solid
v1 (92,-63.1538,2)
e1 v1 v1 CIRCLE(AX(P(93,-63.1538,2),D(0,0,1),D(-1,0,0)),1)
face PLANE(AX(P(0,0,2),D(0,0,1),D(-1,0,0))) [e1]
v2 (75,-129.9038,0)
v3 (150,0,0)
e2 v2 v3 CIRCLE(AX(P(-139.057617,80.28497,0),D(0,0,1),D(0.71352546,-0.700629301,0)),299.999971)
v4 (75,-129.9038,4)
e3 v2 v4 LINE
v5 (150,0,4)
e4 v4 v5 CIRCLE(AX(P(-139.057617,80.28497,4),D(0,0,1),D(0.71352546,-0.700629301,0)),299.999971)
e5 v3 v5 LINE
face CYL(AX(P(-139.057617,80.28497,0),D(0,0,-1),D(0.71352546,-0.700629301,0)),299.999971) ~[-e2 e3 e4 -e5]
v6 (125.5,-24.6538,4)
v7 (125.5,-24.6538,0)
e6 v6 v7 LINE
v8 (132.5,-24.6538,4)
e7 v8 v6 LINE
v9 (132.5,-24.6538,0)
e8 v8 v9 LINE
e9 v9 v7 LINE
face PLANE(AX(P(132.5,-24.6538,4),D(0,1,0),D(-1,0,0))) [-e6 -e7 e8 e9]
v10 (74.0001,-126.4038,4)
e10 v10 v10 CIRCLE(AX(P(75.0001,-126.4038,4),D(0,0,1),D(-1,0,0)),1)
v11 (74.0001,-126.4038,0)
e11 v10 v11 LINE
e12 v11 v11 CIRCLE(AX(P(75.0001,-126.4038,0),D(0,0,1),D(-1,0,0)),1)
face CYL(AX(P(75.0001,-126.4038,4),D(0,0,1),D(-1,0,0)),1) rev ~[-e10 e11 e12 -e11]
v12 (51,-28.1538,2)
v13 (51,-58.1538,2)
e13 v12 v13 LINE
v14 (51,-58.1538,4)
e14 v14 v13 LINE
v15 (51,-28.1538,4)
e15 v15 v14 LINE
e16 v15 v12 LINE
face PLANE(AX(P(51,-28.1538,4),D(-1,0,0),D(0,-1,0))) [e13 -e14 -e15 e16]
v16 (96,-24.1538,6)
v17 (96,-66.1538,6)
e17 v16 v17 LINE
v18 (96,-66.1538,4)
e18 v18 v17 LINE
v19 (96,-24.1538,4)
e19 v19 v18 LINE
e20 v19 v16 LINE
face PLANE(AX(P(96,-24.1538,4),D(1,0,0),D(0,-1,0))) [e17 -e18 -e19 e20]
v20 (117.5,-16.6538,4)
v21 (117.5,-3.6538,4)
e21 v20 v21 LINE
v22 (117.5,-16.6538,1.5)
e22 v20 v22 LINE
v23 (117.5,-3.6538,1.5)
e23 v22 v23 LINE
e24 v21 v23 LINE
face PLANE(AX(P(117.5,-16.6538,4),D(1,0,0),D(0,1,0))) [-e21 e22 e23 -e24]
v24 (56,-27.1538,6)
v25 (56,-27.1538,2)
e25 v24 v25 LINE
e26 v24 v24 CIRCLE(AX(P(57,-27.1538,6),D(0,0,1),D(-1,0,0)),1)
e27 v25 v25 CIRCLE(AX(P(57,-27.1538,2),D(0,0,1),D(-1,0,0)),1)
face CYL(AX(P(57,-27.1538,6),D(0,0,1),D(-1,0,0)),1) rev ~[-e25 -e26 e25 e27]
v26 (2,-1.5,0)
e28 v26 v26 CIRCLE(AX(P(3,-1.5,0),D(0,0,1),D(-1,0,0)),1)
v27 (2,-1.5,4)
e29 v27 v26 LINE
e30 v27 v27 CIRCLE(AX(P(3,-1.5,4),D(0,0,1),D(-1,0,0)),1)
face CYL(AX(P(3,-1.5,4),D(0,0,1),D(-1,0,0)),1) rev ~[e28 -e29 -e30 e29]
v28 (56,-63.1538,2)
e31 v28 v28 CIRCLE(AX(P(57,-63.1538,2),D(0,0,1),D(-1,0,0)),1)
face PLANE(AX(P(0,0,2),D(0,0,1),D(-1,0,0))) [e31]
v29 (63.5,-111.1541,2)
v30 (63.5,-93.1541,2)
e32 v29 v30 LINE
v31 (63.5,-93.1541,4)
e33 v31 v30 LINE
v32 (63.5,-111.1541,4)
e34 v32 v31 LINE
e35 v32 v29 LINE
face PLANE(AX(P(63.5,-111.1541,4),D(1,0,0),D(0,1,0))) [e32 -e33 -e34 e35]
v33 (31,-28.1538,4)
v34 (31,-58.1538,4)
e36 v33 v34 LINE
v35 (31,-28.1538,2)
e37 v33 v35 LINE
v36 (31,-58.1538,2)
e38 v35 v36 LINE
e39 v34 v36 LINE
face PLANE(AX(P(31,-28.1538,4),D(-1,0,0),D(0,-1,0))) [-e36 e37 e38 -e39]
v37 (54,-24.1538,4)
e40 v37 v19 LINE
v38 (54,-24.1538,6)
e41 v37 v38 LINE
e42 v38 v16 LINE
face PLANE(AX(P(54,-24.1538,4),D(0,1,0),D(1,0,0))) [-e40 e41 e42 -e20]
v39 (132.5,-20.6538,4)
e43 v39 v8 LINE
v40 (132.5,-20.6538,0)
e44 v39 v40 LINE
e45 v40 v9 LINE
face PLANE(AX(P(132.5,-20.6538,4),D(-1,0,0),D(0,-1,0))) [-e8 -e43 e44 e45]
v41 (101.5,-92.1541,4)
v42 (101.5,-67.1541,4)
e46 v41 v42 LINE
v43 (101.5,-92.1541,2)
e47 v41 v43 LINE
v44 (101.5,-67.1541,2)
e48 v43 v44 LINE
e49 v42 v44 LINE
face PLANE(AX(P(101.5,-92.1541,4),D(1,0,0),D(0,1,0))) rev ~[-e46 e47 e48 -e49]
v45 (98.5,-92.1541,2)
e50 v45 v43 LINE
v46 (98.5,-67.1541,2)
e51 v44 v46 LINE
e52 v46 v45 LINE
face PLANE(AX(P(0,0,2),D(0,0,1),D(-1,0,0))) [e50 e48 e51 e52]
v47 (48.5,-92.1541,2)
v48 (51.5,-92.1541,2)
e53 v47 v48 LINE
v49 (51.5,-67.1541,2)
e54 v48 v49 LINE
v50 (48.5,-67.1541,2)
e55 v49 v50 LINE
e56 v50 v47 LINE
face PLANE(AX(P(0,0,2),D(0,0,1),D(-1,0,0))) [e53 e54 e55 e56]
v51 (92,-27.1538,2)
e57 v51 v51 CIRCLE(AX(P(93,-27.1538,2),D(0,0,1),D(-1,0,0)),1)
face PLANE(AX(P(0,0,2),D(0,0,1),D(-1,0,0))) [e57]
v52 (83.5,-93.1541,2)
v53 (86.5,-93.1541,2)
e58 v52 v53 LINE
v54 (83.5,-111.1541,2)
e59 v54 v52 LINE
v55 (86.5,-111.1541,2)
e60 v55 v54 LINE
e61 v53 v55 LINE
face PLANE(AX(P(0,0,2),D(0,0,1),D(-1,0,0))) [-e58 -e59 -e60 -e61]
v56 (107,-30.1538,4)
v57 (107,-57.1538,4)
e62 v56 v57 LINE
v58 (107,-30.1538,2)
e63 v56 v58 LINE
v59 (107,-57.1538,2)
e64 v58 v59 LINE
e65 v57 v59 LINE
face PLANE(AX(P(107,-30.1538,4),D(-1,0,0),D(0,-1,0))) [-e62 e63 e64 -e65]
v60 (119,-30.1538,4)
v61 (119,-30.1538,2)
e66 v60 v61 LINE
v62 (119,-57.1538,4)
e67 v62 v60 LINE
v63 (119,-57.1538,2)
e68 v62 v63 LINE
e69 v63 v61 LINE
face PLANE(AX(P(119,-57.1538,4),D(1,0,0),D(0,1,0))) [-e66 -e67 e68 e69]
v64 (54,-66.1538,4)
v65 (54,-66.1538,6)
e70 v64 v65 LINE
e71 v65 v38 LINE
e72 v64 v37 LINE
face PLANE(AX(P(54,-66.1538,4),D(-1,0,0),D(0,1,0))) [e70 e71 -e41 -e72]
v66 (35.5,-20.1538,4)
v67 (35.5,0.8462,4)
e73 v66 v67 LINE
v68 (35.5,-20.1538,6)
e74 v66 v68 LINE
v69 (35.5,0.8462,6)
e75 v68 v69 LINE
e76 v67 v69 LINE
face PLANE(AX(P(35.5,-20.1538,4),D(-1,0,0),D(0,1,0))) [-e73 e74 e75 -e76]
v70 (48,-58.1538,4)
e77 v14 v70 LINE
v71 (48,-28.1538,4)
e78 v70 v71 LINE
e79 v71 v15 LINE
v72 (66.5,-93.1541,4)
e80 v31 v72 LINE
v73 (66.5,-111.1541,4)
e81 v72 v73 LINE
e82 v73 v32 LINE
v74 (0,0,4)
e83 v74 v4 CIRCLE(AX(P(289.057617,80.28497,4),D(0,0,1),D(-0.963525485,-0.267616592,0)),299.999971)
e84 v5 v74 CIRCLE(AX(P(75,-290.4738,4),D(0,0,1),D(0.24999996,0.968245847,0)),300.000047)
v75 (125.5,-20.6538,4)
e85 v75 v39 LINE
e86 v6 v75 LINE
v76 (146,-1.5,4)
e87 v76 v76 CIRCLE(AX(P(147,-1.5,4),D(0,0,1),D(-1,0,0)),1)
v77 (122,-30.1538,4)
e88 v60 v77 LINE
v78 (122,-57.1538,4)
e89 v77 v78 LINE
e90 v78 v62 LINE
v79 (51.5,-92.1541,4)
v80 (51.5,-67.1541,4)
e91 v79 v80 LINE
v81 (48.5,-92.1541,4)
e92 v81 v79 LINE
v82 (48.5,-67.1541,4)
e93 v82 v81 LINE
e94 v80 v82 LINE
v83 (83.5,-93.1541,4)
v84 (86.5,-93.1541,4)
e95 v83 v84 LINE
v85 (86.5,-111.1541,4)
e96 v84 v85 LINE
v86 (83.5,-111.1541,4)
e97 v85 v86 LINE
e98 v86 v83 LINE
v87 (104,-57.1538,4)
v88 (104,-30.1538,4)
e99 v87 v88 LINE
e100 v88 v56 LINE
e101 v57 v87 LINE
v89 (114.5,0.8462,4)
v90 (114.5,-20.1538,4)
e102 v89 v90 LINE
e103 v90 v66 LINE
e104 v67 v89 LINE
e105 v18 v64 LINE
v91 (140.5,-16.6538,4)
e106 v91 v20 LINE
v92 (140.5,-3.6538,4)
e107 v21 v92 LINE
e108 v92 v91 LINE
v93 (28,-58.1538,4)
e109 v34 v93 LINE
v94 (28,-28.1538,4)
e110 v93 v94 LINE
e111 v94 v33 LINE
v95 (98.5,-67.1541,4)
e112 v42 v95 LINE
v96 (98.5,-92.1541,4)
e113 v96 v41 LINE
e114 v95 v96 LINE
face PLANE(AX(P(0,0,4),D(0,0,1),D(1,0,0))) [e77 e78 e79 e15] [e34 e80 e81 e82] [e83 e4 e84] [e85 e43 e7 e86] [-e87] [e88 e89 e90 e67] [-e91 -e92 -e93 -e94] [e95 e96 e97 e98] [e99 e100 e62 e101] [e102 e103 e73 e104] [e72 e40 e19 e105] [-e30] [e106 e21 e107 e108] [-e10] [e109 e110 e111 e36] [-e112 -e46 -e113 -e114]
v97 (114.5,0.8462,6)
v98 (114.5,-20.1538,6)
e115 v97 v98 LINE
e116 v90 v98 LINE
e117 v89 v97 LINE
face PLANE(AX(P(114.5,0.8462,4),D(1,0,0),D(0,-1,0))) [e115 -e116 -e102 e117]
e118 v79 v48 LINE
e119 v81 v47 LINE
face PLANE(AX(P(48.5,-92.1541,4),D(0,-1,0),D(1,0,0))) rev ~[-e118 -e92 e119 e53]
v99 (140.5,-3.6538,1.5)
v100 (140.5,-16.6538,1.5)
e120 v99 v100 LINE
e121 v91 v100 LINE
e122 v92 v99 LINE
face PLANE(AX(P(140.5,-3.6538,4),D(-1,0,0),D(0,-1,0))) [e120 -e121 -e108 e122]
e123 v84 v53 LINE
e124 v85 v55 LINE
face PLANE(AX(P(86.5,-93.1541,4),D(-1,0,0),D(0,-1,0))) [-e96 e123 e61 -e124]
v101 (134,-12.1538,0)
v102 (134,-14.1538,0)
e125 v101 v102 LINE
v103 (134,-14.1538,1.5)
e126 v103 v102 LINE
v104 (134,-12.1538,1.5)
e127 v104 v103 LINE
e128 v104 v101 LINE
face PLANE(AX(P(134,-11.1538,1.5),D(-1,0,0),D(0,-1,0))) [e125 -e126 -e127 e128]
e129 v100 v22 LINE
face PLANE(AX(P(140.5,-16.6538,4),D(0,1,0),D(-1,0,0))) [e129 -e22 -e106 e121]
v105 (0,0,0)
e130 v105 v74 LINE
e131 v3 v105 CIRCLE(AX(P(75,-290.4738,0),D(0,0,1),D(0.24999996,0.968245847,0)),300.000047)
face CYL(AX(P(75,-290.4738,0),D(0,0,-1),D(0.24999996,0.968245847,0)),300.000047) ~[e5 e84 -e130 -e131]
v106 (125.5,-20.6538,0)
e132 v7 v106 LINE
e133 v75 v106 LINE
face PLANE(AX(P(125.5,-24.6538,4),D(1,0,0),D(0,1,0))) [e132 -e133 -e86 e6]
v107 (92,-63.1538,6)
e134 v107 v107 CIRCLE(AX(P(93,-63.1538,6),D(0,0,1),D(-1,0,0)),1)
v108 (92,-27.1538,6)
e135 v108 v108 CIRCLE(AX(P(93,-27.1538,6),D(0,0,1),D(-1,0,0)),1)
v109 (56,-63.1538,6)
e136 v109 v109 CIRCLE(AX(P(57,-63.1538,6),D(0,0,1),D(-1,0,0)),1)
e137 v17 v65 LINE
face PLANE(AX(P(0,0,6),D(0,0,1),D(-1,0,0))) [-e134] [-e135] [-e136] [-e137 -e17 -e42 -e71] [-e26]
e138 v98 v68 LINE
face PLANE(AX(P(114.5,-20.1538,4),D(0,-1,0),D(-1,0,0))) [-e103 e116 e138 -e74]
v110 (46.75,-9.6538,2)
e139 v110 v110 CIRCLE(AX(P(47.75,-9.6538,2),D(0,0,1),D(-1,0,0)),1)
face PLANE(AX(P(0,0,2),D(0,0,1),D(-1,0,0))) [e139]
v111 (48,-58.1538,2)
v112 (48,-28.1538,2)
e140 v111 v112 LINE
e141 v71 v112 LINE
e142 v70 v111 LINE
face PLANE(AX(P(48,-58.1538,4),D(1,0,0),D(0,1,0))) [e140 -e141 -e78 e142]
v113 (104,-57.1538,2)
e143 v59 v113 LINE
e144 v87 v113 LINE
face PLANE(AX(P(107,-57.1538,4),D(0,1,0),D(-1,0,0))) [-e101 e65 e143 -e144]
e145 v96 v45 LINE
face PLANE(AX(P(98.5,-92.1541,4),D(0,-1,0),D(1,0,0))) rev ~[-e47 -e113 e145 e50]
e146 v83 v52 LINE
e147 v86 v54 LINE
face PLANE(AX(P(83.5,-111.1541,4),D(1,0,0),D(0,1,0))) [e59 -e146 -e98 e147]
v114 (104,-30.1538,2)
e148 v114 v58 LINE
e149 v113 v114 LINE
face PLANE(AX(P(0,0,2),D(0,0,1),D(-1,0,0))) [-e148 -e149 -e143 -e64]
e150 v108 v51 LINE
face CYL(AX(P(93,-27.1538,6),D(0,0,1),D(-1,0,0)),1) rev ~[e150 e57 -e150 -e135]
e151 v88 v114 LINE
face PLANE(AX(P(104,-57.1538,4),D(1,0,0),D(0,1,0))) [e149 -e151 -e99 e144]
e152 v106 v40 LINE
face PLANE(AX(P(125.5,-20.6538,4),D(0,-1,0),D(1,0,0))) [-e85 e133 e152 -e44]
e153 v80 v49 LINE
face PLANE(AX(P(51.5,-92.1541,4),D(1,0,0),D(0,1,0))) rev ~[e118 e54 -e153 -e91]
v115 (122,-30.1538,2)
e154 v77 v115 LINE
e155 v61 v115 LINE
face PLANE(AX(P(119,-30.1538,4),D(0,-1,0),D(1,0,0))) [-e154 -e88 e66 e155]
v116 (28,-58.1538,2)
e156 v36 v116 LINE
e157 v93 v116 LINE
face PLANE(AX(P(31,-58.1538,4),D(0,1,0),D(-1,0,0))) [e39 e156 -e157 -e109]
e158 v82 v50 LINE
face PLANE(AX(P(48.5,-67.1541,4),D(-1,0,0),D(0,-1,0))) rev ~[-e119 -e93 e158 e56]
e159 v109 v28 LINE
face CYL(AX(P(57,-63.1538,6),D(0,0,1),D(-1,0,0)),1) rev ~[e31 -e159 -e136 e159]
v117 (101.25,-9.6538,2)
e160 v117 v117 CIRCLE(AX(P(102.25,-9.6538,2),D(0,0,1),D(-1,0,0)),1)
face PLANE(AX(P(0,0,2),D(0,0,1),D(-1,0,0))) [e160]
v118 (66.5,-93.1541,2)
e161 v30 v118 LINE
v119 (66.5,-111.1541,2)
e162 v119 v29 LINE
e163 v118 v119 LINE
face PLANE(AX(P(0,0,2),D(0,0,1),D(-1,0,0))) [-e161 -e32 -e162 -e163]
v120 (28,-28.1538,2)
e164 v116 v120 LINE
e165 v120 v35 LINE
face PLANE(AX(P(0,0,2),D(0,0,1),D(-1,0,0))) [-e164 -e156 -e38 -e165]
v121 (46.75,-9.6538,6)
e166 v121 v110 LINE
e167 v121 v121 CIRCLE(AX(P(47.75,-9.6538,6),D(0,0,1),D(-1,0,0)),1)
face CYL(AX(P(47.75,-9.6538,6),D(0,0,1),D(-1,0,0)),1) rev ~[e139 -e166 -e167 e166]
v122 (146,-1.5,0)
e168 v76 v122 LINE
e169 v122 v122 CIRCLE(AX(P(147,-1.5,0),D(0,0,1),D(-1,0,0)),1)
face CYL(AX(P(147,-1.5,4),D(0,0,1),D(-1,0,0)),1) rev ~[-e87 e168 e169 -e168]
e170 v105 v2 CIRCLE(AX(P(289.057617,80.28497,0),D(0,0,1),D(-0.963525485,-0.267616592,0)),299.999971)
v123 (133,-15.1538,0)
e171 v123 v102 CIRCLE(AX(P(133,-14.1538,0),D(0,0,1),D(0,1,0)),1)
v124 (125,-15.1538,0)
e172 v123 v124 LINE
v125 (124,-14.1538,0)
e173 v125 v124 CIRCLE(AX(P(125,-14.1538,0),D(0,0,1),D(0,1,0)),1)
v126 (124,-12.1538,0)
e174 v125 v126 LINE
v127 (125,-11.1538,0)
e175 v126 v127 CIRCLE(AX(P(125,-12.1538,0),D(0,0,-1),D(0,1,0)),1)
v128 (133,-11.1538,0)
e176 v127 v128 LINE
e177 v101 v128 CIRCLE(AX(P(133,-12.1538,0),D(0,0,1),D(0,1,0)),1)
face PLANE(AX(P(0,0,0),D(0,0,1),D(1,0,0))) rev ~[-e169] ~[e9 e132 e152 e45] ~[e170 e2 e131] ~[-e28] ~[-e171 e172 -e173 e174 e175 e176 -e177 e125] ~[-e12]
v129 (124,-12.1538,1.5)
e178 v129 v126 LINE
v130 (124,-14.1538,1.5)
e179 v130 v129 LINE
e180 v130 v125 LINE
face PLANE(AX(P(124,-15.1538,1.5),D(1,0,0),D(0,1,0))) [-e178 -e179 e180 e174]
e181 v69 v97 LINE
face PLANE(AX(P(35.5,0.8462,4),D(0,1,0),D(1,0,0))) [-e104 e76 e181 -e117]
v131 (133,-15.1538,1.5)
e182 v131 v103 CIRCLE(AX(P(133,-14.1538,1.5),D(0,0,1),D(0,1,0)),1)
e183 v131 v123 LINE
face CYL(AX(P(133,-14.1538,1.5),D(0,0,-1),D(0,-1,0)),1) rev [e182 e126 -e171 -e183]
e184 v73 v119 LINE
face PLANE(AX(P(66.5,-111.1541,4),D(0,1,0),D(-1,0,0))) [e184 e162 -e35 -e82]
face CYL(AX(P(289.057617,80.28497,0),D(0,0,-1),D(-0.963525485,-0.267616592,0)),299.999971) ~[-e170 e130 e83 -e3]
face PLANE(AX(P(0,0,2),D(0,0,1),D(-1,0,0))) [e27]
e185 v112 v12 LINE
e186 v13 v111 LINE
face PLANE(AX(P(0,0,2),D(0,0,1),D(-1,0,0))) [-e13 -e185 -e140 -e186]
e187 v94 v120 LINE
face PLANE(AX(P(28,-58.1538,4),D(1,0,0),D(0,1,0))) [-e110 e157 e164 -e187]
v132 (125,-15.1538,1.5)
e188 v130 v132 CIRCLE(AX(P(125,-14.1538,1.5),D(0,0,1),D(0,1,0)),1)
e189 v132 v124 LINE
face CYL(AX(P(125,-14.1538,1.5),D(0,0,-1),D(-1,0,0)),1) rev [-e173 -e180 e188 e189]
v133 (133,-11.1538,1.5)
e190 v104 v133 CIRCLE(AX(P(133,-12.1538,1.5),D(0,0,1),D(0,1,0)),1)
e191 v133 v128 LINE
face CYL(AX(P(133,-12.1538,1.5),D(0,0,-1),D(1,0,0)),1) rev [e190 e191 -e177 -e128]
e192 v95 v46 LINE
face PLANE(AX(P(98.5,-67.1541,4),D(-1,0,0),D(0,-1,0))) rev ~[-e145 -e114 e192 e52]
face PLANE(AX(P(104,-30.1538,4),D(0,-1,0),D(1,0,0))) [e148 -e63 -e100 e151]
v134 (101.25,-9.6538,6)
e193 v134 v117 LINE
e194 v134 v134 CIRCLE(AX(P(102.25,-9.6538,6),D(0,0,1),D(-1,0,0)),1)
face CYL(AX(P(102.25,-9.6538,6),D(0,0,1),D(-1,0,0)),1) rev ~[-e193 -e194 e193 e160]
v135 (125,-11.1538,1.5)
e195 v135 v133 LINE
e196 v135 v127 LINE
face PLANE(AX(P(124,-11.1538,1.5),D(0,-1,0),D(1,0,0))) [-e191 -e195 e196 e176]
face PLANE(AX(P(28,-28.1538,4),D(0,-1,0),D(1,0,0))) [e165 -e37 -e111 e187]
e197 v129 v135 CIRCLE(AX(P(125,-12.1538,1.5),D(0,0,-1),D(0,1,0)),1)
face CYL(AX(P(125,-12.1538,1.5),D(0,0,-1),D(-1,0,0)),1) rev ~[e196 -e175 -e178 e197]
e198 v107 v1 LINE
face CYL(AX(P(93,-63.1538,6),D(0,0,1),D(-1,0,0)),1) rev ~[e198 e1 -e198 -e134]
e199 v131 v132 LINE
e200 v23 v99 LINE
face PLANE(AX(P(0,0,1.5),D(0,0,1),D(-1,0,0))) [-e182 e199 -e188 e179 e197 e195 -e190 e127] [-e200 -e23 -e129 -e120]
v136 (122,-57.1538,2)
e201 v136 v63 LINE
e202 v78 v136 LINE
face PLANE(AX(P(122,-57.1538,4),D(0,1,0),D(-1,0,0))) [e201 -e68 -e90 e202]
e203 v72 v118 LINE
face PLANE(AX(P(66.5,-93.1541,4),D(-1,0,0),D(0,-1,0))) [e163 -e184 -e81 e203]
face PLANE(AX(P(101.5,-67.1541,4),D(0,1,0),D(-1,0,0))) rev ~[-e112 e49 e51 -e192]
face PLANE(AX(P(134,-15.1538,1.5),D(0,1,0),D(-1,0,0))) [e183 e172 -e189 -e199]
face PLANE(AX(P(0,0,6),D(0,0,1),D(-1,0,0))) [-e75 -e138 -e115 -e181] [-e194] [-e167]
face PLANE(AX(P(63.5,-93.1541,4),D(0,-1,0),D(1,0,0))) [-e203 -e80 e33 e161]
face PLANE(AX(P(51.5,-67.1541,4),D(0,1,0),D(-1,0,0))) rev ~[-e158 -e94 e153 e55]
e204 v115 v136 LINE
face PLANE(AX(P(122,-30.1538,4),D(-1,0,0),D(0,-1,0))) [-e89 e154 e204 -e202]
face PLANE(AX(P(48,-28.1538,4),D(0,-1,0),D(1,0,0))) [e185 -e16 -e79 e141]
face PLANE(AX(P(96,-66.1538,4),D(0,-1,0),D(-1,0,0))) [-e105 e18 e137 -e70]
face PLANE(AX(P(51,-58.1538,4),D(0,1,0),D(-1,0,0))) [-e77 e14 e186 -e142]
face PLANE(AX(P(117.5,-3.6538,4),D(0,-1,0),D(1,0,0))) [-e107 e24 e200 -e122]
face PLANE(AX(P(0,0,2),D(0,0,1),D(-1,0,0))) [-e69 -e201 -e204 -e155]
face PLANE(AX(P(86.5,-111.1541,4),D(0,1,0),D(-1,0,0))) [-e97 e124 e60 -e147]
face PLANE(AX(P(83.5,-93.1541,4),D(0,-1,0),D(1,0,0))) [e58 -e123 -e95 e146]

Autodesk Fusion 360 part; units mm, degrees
sketch "Base" plane through (0, 0, 0) normal (0, 0, 1) x (1, 0, 0)
  line L0 (0, 0) -> (150, 0)
  line L1 (150, 0) -> (75, -129.9038)
  line L2 (75, -129.9038) -> (0, 0)
  arc A0 (150, 0) -> (0, 0) centre (75, -290.4738) ccw
  arc A1 (0, 0) -> (75, -129.9038) centre (289.0576, 80.285) ccw
  arc A2 (75, -129.9038) -> (150, 0) centre (-139.0576, 80.285) ccw
  dimension "d1" = 150
  dimension "d2" = 150
  dimension "d3" = 150
  dimension "d4" = 300
  dimension "d5" = 300
  dimension "d6" = 300
extrude "Extrude1" add sketch "Base" along normal blind 4
sketch "Pads" plane through (0, 0, 4) normal (0, 0, 1) x (-1, 0, 0)
  arc A0 (-75, 129.9038) -> (-150, 0) centre (139.0576, -80.285) ccw
  arc A1 (-150, 0) -> (0, 0) centre (-75, 290.4738) ccw
  arc A2 (0, 0) -> (-75, 129.9038) centre (-289.0576, -80.285) ccw
  line L0 (-54, 24.1538) -> (-96, 24.1538)
  line L1 (-96, 24.1538) -> (-96, 66.1538)
  line L2 (-96, 66.1538) -> (-54, 66.1538)
  line L3 (-54, 66.1538) -> (-54, 24.1538)
  line L4 (-114.5, 20.1538) -> (-35.5, 20.1538)
  line L5 (-35.5, 20.1538) -> (-35.5, -0.8462)
  line L6 (-35.5, -0.8462) -> (-114.5, -0.8462)
  line L7 (-114.5, -0.8462) -> (-114.5, 20.1538)
  dimension "d478" = 42
  dimension "d479" = 42
  dimension "d480" = 63.75
  dimension "d481" = 54
  dimension "d496" = 79
  dimension "d497" = 21
  dimension "d498" = 18.5
  dimension "d499" = 4
extrude "Extrude46" add sketch "Pads" along normal blind 2 contours L0 L1 L2 L3 | L4 L5 L6 L7
sketch "Clip holes" plane through (0, 0, 4) normal (0, 0, 1) x (-1, 0, 0)
  line L0 (-54, 24.1541) -> (-96, 24.1541)
  line L1 (-96, 24.1541) -> (-96, 66.1541)
  line L2 (-96, 66.1541) -> (-54, 66.1541)
  line L3 (-54, 66.1541) -> (-54, 24.1541)
  circle A0 centre (-3, 1.5) radius 0.75
  circle A1 centre (-147, 1.5) radius 0.75
  circle A2 centre (-75, 126.4038) radius 0.75
  arc A3 (-75, 129.9038) -> (-150, 0) centre (139.0576, -80.285) ccw
  arc A4 (-150, 0) -> (0, 0) centre (-75, 290.4738) ccw
  arc A5 (0, 0) -> (-75, 129.9038) centre (-289.0576, -80.285) ccw
  line L4 (-48.5, 92.1541) -> (-51.5, 92.1541)
  line L5 (-51.5, 92.1541) -> (-51.5, 67.1541)
  line L6 (-51.5, 67.1541) -> (-48.5, 67.1541)
  line L7 (-48.5, 67.1541) -> (-48.5, 92.1541)
  line L8 (-98.5, 92.1541) -> (-101.5, 92.1541)
  line L9 (-101.5, 92.1541) -> (-101.5, 67.1541)
  line L10 (-101.5, 67.1541) -> (-98.5, 67.1541)
  line L11 (-98.5, 67.1541) -> (-98.5, 92.1541)
  arc A6 (-75, 129.9038) -> (-150, 0) centre (139.0576, -80.285) ccw
  arc A7 (-150, 0) -> (0, 0) centre (-75, 290.4738) ccw
  arc A8 (0, 0) -> (-75, 129.9038) centre (-289.0576, -80.285) ccw
  line L12 (-66.5, 111.1541) -> (-63.5, 111.1541)
  line L13 (-63.5, 111.1541) -> (-63.5, 93.1541)
  line L14 (-63.5, 93.1541) -> (-66.5, 93.1541)
  line L15 (-66.5, 93.1541) -> (-66.5, 111.1541)
  line L16 (-83.5, 93.1541) -> (-86.5, 93.1541)
  line L17 (-86.5, 93.1541) -> (-86.5, 111.1541)
  line L18 (-86.5, 111.1541) -> (-83.5, 111.1541)
  line L19 (-83.5, 111.1541) -> (-83.5, 93.1541)
  line L20 (-28, 58.1538) -> (-28, 28.1538)
  line L21 (-28, 28.1538) -> (-31, 28.1538)
  line L22 (-31, 58.1538) -> (-28, 58.1538)
  line L23 (-31, 28.1538) -> (-31, 58.1538)
  line L24 (-54, 66.1538) -> (-54, 24.1538)
  line L25 (-54, 24.1538) -> (-96, 24.1538)
  line L26 (-96, 24.1538) -> (-96, 66.1538)
  line L27 (-96, 66.1538) -> (-54, 66.1538)
  line L28 (-114.5, -0.8462) -> (-114.5, 20.1538)
  line L29 (-114.5, 20.1538) -> (-35.5, 20.1538)
  line L30 (-35.5, 20.1538) -> (-35.5, -0.8462)
  line L31 (-35.5, -0.8462) -> (-114.5, -0.8462)
  line L32 (-104, 30.1538) -> (-107, 30.1538)
  line L33 (-107, 30.1538) -> (-107, 57.1538)
  line L34 (-107, 57.1538) -> (-104, 57.1538)
  line L35 (-104, 57.1538) -> (-104, 30.1538)
  line L36 (-119, 30.1538) -> (-122, 30.1538)
  line L37 (-122, 30.1538) -> (-122, 57.1538)
  line L38 (-122, 57.1538) -> (-119, 57.1538)
  line L39 (-119, 57.1538) -> (-119, 30.1538)
  line L40 (-48, 28.1538) -> (-51, 28.1538)
  line L41 (-51, 28.1538) -> (-51, 58.1538)
  line L42 (-51, 58.1538) -> (-48, 58.1538)
  line L43 (-48, 58.1538) -> (-48, 28.1538)
  line L44 (-96, 24.1538) -> (-54, 24.1538)
  dimension "d427" = 25
  dimension "d428" = 25
  dimension "d468" = 18
  dimension "d469" = 3
  dimension "d471" = 3
  dimension "d472" = 18
  dimension "d474" = 30
  dimension "d475" = 3
  dimension "d559" = 3
  dimension "d560" = 3
  dimension "d561" = 3
  dimension "d562" = 27
  dimension "d563" = 10
  dimension "d564" = 3
  dimension "d565" = 27
  dimension "d566" = 10
  dimension "d567" = 18
  dimension "d568" = 8
  dimension "d569" = 23
  dimension "d570" = 1
  dimension "d571" = 1
  dimension "d572" = 1
  dimension "d573" = 53
  dimension "d574" = 2.5
  dimension "d575" = 1
  dimension "d579" = 3
  dimension "d580" = 30
  dimension "d581" = 23
  dimension "d583" = 4
  dimension "d584" = 4
  dimension "d585" = 3
  dimension "d586" = 12
extrude "Extrude39" cut sketch "Clip holes" against normal blind 2 contours L4 L5 L6 L7 | L8 L9 L10 L11 | L12 L13 L14 L15 | L16 L17 L18 L19 | L20 L21 L22 L23 | L32 L33 L34 L35 | L36 L37 L38 L39 | L40 L41 L42 L43
sketch "Charger" plane through (0, 0, 4) normal (0, 0, 1) x (-1, 0, 0)
  arc A0 (-75, 129.9038) -> (-150, 0) centre (139.0576, -80.285) ccw
  arc A1 (-150, 0) -> (0, 0) centre (-75, 290.4738) ccw
  arc A2 (0, 0) -> (-75, 129.9038) centre (-289.0576, -80.285) ccw
  line L0 (-54, 24.1538) -> (-96, 24.1538)
  line L1 (-96, 24.1538) -> (-96, 66.1538)
  line L2 (-96, 66.1538) -> (-54, 66.1538)
  line L3 (-54, 66.1538) -> (-54, 24.1538)
  line L4 (-114.5, -0.8462) -> (-114.5, 20.1538)
  line L5 (-114.5, 20.1538) -> (-35.5, 20.1538)
  line L6 (-35.5, 20.1538) -> (-35.5, -0.8462)
  line L7 (-35.5, -0.8462) -> (-114.5, -0.8462)
  line L8 (-86.5, 93.1541) -> (-86.5, 111.1541)
  line L9 (-86.5, 111.1541) -> (-83.5, 111.1541)
  line L10 (-83.5, 111.1541) -> (-83.5, 93.1541)
  line L11 (-83.5, 93.1541) -> (-86.5, 93.1541)
  line L12 (-51.5, 92.1541) -> (-48.5, 92.1541)
  line L13 (-48.5, 92.1541) -> (-48.5, 67.1541)
  line L14 (-48.5, 67.1541) -> (-51.5, 67.1541)
  line L15 (-51.5, 67.1541) -> (-51.5, 92.1541)
  line L16 (-28, 58.1538) -> (-28, 28.1538)
  line L17 (-28, 28.1538) -> (-31, 28.1538)
  line L18 (-31, 28.1538) -> (-31, 58.1538)
  line L19 (-31, 58.1538) -> (-28, 58.1538)
  line L20 (-63.5, 111.1541) -> (-63.5, 93.1541)
  line L21 (-63.5, 93.1541) -> (-66.5, 93.1541)
  line L22 (-66.5, 93.1541) -> (-66.5, 111.1541)
  line L23 (-66.5, 111.1541) -> (-63.5, 111.1541)
  line L24 (-101.5, 92.1541) -> (-98.5, 92.1541)
  line L25 (-98.5, 92.1541) -> (-98.5, 67.1541)
  line L26 (-98.5, 67.1541) -> (-101.5, 67.1541)
  line L27 (-101.5, 67.1541) -> (-101.5, 92.1541)
  line L28 (-117.5, 3.6538) -> (-140.5, 3.6538)
  line L29 (-140.5, 3.6538) -> (-140.5, 16.6538)
  line L30 (-140.5, 16.6538) -> (-117.5, 16.6538)
  line L31 (-117.5, 16.6538) -> (-117.5, 3.6538)
  line L32 (-122, 30.1538) -> (-122, 57.1538)
  line L33 (-122, 57.1538) -> (-119, 57.1538)
  line L34 (-119, 57.1538) -> (-119, 30.1538)
  line L35 (-119, 30.1538) -> (-122, 30.1538)
  line L36 (-107, 30.1538) -> (-107, 57.1538)
  line L37 (-107, 57.1538) -> (-104, 57.1538)
  line L38 (-104, 57.1538) -> (-104, 30.1538)
  line L39 (-104, 30.1538) -> (-107, 30.1538)
  line L40 (-51, 28.1538) -> (-51, 58.1538)
  line L41 (-51, 58.1538) -> (-48, 58.1538)
  line L42 (-48, 58.1538) -> (-48, 28.1538)
  line L43 (-48, 28.1538) -> (-51, 28.1538)
  dimension "d539" = 23
  dimension "d540" = 13
  dimension "d541" = 3
  dimension "d542" = 4.5
extrude "Extrude56" cut sketch "Charger" against normal blind 2.5 contours L28 L29 L30 L31
sketch "Switch" plane through (0, 0, 4) normal (0, 0, 1) x (-1, 0, 0)
  line L0 (-101.5, 92.1541) -> (-98.5, 92.1541)
  line L1 (-98.5, 92.1541) -> (-98.5, 67.1541)
  line L2 (-98.5, 67.1541) -> (-101.5, 67.1541)
  line L3 (-101.5, 67.1541) -> (-101.5, 92.1541)
  line L4 (-63.5, 111.1541) -> (-63.5, 93.1541)
  line L5 (-63.5, 93.1541) -> (-66.5, 93.1541)
  line L6 (-66.5, 93.1541) -> (-66.5, 111.1541)
  line L7 (-66.5, 111.1541) -> (-63.5, 111.1541)
  line L8 (-28, 58.1538) -> (-28, 28.1538)
  line L9 (-28, 28.1538) -> (-31, 28.1538)
  line L10 (-31, 28.1538) -> (-31, 58.1538)
  line L11 (-31, 58.1538) -> (-28, 58.1538)
  line L12 (-51.5, 92.1541) -> (-48.5, 92.1541)
  line L13 (-48.5, 92.1541) -> (-48.5, 67.1541)
  line L14 (-48.5, 67.1541) -> (-51.5, 67.1541)
  line L15 (-51.5, 67.1541) -> (-51.5, 92.1541)
  line L16 (-86.5, 93.1541) -> (-86.5, 111.1541)
  line L17 (-86.5, 111.1541) -> (-83.5, 111.1541)
  line L18 (-83.5, 111.1541) -> (-83.5, 93.1541)
  line L19 (-83.5, 93.1541) -> (-86.5, 93.1541)
  line L20 (-114.5, -0.8462) -> (-114.5, 20.1538)
  line L21 (-114.5, 20.1538) -> (-35.5, 20.1538)
  line L22 (-35.5, 20.1538) -> (-35.5, -0.8462)
  line L23 (-35.5, -0.8462) -> (-114.5, -0.8462)
  line L24 (-54, 24.1538) -> (-96, 24.1538)
  line L25 (-96, 24.1538) -> (-96, 66.1538)
  line L26 (-96, 66.1538) -> (-54, 66.1538)
  line L27 (-54, 66.1538) -> (-54, 24.1538)
  arc A0 (-75, 129.9038) -> (-150, 0) centre (139.0576, -80.285) ccw
  arc A1 (-150, 0) -> (0, 0) centre (-75, 290.4738) ccw
  arc A2 (0, 0) -> (-75, 129.9038) centre (-289.0576, -80.285) ccw
  line L28 (-140.5, 3.6538) -> (-140.5, 16.6538)
  line L29 (-140.5, 16.6538) -> (-117.5, 16.6538)
  line L30 (-117.5, 16.6538) -> (-117.5, 3.6538)
  line L31 (-117.5, 3.6538) -> (-140.5, 3.6538)
  line L32 (-125.5, 20.6538) -> (-132.5, 20.6538)
  line L33 (-132.5, 20.6538) -> (-132.5, 24.6538)
  line L34 (-132.5, 24.6538) -> (-125.5, 24.6538)
  line L35 (-125.5, 24.6538) -> (-125.5, 20.6538)
  line L36 (-107, 30.1538) -> (-107, 57.1538)
  line L37 (-107, 57.1538) -> (-104, 57.1538)
  line L38 (-104, 57.1538) -> (-104, 30.1538)
  line L39 (-104, 30.1538) -> (-107, 30.1538)
  line L40 (-122, 30.1538) -> (-122, 57.1538)
  line L41 (-122, 57.1538) -> (-119, 57.1538)
  line L42 (-119, 57.1538) -> (-119, 30.1538)
  line L43 (-119, 30.1538) -> (-122, 30.1538)
  line L44 (-51, 28.1538) -> (-51, 58.1538)
  line L45 (-51, 58.1538) -> (-48, 58.1538)
  line L46 (-48, 58.1538) -> (-48, 28.1538)
  line L47 (-48, 28.1538) -> (-51, 28.1538)
  dimension "d545" = 7
  dimension "d546" = 4
  dimension "d547" = 4
  dimension "d548" = 8
extrude "Extrude57" cut sketch "Switch" against normal blind 4 contours L32 L33 L34 L35
sketch "Charger hole" plane through (0, 0, 1.5) normal (0, 0, 1) x (-1, 0, 0)
  line L0 (-117.5, 16.6538) -> (-140.5, 16.6538)
  line L1 (-140.5, 16.6538) -> (-140.5, 3.6538)
  line L2 (-140.5, 3.6538) -> (-117.5, 3.6538)
  line L3 (-117.5, 3.6538) -> (-117.5, 16.6538)
  line L4 (-124, 11.1538) -> (-134, 11.1538)
  line L5 (-134, 11.1538) -> (-134, 15.1538)
  line L6 (-134, 15.1538) -> (-124, 15.1538)
  line L7 (-124, 15.1538) -> (-124, 11.1538)
  dimension "d551" = 10
  dimension "d552" = 4
  dimension "d554" = 6.5
  dimension "d617" = 1.5
extrude "Extrude58" cut sketch "Charger hole" against normal blind 1.5 contours L4 L5 L6 L7
fillet "Fillet10" radius 1 4 edges at (124, -11.1538, 0.75) (124, -15.1538, 0.75) (134, -15.1538, 0.75) (134, -11.1538, 0.75)
sketch "Motor holes" plane through (0, 0, 6) normal (0, 0, 1) x (-1, 0, 0)
  line L0 (-54, 66.1538) -> (-96, 66.1538)
  line L1 (-96, 66.1538) -> (-96, 24.1538)
  line L2 (-96, 24.1538) -> (-54, 24.1538)
  line L3 (-54, 24.1538) -> (-54, 66.1538)
  circle A0 centre (-57, 27.1538) radius 1
  circle A1 centre (-93, 27.1538) radius 1
  circle A2 centre (-93, 63.1538) radius 1
  circle A3 centre (-57, 63.1538) radius 1
  dimension "d587" = 2
  dimension "d588" = 3
  dimension "d589" = 3
  dimension "d590" = 2
  dimension "d591" = 3
  dimension "d592" = 3
  dimension "d593" = 2
  dimension "d594" = 3
  dimension "d595" = 3
  dimension "d596" = 2
  dimension "d597" = 3
  dimension "d598" = 3
sketch "Battery holes" plane through (0, 0, 6) normal (0, 0, 1) x (-1, 0, 0)
  line L0 (-114.5, -0.8462) -> (-35.5, -0.8462)
  line L1 (-35.5, -0.8462) -> (-35.5, 20.1538)
  line L2 (-35.5, 20.1538) -> (-114.5, 20.1538)
  line L3 (-114.5, 20.1538) -> (-114.5, -0.8462)
  circle A0 centre (-47.75, 9.6538) radius 1
  circle A1 centre (-102.25, 9.6538) radius 1
  dimension "d599" = 2
  dimension "d600" = 2
  dimension "d601" = 10.5
  dimension "d602" = 10.5
  dimension "d603" = 54.5
  dimension "d604" = 12.25
extrude "Extrude59" cut sketch "Battery holes" sketch "Motor holes" against normal blind 4 contours A0 | A1 of sketch 2 contours A0 | A1 | A2 | A3
sketch "Case holes" plane through (0, 0, 4) normal (0, 0, 1) x (-1, 0, 0)
  line L0 (-140.5, 3.6538) -> (-140.5, 16.6538)
  line L1 (-140.5, 16.6538) -> (-117.5, 16.6538)
  line L2 (-117.5, 16.6538) -> (-117.5, 3.6538)
  line L3 (-117.5, 3.6538) -> (-140.5, 3.6538)
  arc A0 (-75, 129.9038) -> (-150, 0) centre (139.0576, -80.285) ccw
  arc A1 (-150, 0) -> (0, 0) centre (-75, 290.4738) ccw
  arc A2 (0, 0) -> (-75, 129.9038) centre (-289.0576, -80.285) ccw
  line L4 (-54, 66.1538) -> (-54, 24.1538)
  line L5 (-54, 24.1538) -> (-96, 24.1538)
  line L6 (-96, 24.1538) -> (-96, 66.1538)
  line L7 (-96, 66.1538) -> (-54, 66.1538)
  line L8 (-114.5, -0.8462) -> (-114.5, 20.1538)
  line L9 (-114.5, 20.1538) -> (-35.5, 20.1538)
  line L10 (-35.5, 20.1538) -> (-35.5, -0.8462)
  line L11 (-35.5, -0.8462) -> (-114.5, -0.8462)
  line L12 (-51, 28.1538) -> (-51, 58.1538)
  line L13 (-51, 58.1538) -> (-48, 58.1538)
  line L14 (-48, 58.1538) -> (-48, 28.1538)
  line L15 (-48, 28.1538) -> (-51, 28.1538)
  line L16 (-63.5, 111.1541) -> (-63.5, 93.1541)
  line L17 (-63.5, 93.1541) -> (-66.5, 93.1541)
  line L18 (-66.5, 93.1541) -> (-66.5, 111.1541)
  line L19 (-66.5, 111.1541) -> (-63.5, 111.1541)
  line L20 (-101.5, 92.1541) -> (-98.5, 92.1541)
  line L21 (-98.5, 92.1541) -> (-98.5, 67.1541)
  line L22 (-98.5, 67.1541) -> (-101.5, 67.1541)
  line L23 (-101.5, 67.1541) -> (-101.5, 92.1541)
  line L24 (-86.5, 93.1541) -> (-86.5, 111.1541)
  line L25 (-86.5, 111.1541) -> (-83.5, 111.1541)
  line L26 (-83.5, 111.1541) -> (-83.5, 93.1541)
  line L27 (-83.5, 93.1541) -> (-86.5, 93.1541)
  line L28 (-122, 30.1538) -> (-122, 57.1538)
  line L29 (-122, 57.1538) -> (-119, 57.1538)
  line L30 (-119, 57.1538) -> (-119, 30.1538)
  line L31 (-119, 30.1538) -> (-122, 30.1538)
  line L32 (-28, 58.1538) -> (-28, 28.1538)
  line L33 (-28, 28.1538) -> (-31, 28.1538)
  line L34 (-31, 28.1538) -> (-31, 58.1538)
  line L35 (-31, 58.1538) -> (-28, 58.1538)
  line L36 (-51.5, 92.1541) -> (-48.5, 92.1541)
  line L37 (-48.5, 92.1541) -> (-48.5, 67.1541)
  line L38 (-48.5, 67.1541) -> (-51.5, 67.1541)
  line L39 (-51.5, 67.1541) -> (-51.5, 92.1541)
  line L40 (-107, 30.1538) -> (-107, 57.1538)
  line L41 (-107, 57.1538) -> (-104, 57.1538)
  line L42 (-104, 57.1538) -> (-104, 30.1538)
  line L43 (-104, 30.1538) -> (-107, 30.1538)
  line L44 (-132.5, 20.6538) -> (-132.5, 24.6538)
  line L45 (-132.5, 24.6538) -> (-125.5, 24.6538)
  line L46 (-125.5, 24.6538) -> (-125.5, 20.6538)
  line L47 (-125.5, 20.6538) -> (-132.5, 20.6538)
  circle A3 centre (-75.0001, 126.4038) radius 1
  circle A4 centre (-3, 1.5) radius 1
  circle A5 centre (-147, 1.5) radius 1
  dimension "d607" = 2
  dimension "d608" = 2
  dimension "d609" = 3
  dimension "d610" = 1.5
  dimension "d611" = 2
  dimension "d612" = 3
  dimension "d613" = 1.5
  dimension "d614" = 3.5
extrude "Extrude60" cut sketch "Case holes" against normal blind 4 contours A3 | A4 | A5
equation "CLIP_PCB_SIZE = 16 mm"
equation "CLIP_PCB_THICKNESS = 1 mm"
equation "CLIP_DISTANCE_TO_BASE = 7 mm"
equation "CLIP_THICKNESS = 4 mm"
